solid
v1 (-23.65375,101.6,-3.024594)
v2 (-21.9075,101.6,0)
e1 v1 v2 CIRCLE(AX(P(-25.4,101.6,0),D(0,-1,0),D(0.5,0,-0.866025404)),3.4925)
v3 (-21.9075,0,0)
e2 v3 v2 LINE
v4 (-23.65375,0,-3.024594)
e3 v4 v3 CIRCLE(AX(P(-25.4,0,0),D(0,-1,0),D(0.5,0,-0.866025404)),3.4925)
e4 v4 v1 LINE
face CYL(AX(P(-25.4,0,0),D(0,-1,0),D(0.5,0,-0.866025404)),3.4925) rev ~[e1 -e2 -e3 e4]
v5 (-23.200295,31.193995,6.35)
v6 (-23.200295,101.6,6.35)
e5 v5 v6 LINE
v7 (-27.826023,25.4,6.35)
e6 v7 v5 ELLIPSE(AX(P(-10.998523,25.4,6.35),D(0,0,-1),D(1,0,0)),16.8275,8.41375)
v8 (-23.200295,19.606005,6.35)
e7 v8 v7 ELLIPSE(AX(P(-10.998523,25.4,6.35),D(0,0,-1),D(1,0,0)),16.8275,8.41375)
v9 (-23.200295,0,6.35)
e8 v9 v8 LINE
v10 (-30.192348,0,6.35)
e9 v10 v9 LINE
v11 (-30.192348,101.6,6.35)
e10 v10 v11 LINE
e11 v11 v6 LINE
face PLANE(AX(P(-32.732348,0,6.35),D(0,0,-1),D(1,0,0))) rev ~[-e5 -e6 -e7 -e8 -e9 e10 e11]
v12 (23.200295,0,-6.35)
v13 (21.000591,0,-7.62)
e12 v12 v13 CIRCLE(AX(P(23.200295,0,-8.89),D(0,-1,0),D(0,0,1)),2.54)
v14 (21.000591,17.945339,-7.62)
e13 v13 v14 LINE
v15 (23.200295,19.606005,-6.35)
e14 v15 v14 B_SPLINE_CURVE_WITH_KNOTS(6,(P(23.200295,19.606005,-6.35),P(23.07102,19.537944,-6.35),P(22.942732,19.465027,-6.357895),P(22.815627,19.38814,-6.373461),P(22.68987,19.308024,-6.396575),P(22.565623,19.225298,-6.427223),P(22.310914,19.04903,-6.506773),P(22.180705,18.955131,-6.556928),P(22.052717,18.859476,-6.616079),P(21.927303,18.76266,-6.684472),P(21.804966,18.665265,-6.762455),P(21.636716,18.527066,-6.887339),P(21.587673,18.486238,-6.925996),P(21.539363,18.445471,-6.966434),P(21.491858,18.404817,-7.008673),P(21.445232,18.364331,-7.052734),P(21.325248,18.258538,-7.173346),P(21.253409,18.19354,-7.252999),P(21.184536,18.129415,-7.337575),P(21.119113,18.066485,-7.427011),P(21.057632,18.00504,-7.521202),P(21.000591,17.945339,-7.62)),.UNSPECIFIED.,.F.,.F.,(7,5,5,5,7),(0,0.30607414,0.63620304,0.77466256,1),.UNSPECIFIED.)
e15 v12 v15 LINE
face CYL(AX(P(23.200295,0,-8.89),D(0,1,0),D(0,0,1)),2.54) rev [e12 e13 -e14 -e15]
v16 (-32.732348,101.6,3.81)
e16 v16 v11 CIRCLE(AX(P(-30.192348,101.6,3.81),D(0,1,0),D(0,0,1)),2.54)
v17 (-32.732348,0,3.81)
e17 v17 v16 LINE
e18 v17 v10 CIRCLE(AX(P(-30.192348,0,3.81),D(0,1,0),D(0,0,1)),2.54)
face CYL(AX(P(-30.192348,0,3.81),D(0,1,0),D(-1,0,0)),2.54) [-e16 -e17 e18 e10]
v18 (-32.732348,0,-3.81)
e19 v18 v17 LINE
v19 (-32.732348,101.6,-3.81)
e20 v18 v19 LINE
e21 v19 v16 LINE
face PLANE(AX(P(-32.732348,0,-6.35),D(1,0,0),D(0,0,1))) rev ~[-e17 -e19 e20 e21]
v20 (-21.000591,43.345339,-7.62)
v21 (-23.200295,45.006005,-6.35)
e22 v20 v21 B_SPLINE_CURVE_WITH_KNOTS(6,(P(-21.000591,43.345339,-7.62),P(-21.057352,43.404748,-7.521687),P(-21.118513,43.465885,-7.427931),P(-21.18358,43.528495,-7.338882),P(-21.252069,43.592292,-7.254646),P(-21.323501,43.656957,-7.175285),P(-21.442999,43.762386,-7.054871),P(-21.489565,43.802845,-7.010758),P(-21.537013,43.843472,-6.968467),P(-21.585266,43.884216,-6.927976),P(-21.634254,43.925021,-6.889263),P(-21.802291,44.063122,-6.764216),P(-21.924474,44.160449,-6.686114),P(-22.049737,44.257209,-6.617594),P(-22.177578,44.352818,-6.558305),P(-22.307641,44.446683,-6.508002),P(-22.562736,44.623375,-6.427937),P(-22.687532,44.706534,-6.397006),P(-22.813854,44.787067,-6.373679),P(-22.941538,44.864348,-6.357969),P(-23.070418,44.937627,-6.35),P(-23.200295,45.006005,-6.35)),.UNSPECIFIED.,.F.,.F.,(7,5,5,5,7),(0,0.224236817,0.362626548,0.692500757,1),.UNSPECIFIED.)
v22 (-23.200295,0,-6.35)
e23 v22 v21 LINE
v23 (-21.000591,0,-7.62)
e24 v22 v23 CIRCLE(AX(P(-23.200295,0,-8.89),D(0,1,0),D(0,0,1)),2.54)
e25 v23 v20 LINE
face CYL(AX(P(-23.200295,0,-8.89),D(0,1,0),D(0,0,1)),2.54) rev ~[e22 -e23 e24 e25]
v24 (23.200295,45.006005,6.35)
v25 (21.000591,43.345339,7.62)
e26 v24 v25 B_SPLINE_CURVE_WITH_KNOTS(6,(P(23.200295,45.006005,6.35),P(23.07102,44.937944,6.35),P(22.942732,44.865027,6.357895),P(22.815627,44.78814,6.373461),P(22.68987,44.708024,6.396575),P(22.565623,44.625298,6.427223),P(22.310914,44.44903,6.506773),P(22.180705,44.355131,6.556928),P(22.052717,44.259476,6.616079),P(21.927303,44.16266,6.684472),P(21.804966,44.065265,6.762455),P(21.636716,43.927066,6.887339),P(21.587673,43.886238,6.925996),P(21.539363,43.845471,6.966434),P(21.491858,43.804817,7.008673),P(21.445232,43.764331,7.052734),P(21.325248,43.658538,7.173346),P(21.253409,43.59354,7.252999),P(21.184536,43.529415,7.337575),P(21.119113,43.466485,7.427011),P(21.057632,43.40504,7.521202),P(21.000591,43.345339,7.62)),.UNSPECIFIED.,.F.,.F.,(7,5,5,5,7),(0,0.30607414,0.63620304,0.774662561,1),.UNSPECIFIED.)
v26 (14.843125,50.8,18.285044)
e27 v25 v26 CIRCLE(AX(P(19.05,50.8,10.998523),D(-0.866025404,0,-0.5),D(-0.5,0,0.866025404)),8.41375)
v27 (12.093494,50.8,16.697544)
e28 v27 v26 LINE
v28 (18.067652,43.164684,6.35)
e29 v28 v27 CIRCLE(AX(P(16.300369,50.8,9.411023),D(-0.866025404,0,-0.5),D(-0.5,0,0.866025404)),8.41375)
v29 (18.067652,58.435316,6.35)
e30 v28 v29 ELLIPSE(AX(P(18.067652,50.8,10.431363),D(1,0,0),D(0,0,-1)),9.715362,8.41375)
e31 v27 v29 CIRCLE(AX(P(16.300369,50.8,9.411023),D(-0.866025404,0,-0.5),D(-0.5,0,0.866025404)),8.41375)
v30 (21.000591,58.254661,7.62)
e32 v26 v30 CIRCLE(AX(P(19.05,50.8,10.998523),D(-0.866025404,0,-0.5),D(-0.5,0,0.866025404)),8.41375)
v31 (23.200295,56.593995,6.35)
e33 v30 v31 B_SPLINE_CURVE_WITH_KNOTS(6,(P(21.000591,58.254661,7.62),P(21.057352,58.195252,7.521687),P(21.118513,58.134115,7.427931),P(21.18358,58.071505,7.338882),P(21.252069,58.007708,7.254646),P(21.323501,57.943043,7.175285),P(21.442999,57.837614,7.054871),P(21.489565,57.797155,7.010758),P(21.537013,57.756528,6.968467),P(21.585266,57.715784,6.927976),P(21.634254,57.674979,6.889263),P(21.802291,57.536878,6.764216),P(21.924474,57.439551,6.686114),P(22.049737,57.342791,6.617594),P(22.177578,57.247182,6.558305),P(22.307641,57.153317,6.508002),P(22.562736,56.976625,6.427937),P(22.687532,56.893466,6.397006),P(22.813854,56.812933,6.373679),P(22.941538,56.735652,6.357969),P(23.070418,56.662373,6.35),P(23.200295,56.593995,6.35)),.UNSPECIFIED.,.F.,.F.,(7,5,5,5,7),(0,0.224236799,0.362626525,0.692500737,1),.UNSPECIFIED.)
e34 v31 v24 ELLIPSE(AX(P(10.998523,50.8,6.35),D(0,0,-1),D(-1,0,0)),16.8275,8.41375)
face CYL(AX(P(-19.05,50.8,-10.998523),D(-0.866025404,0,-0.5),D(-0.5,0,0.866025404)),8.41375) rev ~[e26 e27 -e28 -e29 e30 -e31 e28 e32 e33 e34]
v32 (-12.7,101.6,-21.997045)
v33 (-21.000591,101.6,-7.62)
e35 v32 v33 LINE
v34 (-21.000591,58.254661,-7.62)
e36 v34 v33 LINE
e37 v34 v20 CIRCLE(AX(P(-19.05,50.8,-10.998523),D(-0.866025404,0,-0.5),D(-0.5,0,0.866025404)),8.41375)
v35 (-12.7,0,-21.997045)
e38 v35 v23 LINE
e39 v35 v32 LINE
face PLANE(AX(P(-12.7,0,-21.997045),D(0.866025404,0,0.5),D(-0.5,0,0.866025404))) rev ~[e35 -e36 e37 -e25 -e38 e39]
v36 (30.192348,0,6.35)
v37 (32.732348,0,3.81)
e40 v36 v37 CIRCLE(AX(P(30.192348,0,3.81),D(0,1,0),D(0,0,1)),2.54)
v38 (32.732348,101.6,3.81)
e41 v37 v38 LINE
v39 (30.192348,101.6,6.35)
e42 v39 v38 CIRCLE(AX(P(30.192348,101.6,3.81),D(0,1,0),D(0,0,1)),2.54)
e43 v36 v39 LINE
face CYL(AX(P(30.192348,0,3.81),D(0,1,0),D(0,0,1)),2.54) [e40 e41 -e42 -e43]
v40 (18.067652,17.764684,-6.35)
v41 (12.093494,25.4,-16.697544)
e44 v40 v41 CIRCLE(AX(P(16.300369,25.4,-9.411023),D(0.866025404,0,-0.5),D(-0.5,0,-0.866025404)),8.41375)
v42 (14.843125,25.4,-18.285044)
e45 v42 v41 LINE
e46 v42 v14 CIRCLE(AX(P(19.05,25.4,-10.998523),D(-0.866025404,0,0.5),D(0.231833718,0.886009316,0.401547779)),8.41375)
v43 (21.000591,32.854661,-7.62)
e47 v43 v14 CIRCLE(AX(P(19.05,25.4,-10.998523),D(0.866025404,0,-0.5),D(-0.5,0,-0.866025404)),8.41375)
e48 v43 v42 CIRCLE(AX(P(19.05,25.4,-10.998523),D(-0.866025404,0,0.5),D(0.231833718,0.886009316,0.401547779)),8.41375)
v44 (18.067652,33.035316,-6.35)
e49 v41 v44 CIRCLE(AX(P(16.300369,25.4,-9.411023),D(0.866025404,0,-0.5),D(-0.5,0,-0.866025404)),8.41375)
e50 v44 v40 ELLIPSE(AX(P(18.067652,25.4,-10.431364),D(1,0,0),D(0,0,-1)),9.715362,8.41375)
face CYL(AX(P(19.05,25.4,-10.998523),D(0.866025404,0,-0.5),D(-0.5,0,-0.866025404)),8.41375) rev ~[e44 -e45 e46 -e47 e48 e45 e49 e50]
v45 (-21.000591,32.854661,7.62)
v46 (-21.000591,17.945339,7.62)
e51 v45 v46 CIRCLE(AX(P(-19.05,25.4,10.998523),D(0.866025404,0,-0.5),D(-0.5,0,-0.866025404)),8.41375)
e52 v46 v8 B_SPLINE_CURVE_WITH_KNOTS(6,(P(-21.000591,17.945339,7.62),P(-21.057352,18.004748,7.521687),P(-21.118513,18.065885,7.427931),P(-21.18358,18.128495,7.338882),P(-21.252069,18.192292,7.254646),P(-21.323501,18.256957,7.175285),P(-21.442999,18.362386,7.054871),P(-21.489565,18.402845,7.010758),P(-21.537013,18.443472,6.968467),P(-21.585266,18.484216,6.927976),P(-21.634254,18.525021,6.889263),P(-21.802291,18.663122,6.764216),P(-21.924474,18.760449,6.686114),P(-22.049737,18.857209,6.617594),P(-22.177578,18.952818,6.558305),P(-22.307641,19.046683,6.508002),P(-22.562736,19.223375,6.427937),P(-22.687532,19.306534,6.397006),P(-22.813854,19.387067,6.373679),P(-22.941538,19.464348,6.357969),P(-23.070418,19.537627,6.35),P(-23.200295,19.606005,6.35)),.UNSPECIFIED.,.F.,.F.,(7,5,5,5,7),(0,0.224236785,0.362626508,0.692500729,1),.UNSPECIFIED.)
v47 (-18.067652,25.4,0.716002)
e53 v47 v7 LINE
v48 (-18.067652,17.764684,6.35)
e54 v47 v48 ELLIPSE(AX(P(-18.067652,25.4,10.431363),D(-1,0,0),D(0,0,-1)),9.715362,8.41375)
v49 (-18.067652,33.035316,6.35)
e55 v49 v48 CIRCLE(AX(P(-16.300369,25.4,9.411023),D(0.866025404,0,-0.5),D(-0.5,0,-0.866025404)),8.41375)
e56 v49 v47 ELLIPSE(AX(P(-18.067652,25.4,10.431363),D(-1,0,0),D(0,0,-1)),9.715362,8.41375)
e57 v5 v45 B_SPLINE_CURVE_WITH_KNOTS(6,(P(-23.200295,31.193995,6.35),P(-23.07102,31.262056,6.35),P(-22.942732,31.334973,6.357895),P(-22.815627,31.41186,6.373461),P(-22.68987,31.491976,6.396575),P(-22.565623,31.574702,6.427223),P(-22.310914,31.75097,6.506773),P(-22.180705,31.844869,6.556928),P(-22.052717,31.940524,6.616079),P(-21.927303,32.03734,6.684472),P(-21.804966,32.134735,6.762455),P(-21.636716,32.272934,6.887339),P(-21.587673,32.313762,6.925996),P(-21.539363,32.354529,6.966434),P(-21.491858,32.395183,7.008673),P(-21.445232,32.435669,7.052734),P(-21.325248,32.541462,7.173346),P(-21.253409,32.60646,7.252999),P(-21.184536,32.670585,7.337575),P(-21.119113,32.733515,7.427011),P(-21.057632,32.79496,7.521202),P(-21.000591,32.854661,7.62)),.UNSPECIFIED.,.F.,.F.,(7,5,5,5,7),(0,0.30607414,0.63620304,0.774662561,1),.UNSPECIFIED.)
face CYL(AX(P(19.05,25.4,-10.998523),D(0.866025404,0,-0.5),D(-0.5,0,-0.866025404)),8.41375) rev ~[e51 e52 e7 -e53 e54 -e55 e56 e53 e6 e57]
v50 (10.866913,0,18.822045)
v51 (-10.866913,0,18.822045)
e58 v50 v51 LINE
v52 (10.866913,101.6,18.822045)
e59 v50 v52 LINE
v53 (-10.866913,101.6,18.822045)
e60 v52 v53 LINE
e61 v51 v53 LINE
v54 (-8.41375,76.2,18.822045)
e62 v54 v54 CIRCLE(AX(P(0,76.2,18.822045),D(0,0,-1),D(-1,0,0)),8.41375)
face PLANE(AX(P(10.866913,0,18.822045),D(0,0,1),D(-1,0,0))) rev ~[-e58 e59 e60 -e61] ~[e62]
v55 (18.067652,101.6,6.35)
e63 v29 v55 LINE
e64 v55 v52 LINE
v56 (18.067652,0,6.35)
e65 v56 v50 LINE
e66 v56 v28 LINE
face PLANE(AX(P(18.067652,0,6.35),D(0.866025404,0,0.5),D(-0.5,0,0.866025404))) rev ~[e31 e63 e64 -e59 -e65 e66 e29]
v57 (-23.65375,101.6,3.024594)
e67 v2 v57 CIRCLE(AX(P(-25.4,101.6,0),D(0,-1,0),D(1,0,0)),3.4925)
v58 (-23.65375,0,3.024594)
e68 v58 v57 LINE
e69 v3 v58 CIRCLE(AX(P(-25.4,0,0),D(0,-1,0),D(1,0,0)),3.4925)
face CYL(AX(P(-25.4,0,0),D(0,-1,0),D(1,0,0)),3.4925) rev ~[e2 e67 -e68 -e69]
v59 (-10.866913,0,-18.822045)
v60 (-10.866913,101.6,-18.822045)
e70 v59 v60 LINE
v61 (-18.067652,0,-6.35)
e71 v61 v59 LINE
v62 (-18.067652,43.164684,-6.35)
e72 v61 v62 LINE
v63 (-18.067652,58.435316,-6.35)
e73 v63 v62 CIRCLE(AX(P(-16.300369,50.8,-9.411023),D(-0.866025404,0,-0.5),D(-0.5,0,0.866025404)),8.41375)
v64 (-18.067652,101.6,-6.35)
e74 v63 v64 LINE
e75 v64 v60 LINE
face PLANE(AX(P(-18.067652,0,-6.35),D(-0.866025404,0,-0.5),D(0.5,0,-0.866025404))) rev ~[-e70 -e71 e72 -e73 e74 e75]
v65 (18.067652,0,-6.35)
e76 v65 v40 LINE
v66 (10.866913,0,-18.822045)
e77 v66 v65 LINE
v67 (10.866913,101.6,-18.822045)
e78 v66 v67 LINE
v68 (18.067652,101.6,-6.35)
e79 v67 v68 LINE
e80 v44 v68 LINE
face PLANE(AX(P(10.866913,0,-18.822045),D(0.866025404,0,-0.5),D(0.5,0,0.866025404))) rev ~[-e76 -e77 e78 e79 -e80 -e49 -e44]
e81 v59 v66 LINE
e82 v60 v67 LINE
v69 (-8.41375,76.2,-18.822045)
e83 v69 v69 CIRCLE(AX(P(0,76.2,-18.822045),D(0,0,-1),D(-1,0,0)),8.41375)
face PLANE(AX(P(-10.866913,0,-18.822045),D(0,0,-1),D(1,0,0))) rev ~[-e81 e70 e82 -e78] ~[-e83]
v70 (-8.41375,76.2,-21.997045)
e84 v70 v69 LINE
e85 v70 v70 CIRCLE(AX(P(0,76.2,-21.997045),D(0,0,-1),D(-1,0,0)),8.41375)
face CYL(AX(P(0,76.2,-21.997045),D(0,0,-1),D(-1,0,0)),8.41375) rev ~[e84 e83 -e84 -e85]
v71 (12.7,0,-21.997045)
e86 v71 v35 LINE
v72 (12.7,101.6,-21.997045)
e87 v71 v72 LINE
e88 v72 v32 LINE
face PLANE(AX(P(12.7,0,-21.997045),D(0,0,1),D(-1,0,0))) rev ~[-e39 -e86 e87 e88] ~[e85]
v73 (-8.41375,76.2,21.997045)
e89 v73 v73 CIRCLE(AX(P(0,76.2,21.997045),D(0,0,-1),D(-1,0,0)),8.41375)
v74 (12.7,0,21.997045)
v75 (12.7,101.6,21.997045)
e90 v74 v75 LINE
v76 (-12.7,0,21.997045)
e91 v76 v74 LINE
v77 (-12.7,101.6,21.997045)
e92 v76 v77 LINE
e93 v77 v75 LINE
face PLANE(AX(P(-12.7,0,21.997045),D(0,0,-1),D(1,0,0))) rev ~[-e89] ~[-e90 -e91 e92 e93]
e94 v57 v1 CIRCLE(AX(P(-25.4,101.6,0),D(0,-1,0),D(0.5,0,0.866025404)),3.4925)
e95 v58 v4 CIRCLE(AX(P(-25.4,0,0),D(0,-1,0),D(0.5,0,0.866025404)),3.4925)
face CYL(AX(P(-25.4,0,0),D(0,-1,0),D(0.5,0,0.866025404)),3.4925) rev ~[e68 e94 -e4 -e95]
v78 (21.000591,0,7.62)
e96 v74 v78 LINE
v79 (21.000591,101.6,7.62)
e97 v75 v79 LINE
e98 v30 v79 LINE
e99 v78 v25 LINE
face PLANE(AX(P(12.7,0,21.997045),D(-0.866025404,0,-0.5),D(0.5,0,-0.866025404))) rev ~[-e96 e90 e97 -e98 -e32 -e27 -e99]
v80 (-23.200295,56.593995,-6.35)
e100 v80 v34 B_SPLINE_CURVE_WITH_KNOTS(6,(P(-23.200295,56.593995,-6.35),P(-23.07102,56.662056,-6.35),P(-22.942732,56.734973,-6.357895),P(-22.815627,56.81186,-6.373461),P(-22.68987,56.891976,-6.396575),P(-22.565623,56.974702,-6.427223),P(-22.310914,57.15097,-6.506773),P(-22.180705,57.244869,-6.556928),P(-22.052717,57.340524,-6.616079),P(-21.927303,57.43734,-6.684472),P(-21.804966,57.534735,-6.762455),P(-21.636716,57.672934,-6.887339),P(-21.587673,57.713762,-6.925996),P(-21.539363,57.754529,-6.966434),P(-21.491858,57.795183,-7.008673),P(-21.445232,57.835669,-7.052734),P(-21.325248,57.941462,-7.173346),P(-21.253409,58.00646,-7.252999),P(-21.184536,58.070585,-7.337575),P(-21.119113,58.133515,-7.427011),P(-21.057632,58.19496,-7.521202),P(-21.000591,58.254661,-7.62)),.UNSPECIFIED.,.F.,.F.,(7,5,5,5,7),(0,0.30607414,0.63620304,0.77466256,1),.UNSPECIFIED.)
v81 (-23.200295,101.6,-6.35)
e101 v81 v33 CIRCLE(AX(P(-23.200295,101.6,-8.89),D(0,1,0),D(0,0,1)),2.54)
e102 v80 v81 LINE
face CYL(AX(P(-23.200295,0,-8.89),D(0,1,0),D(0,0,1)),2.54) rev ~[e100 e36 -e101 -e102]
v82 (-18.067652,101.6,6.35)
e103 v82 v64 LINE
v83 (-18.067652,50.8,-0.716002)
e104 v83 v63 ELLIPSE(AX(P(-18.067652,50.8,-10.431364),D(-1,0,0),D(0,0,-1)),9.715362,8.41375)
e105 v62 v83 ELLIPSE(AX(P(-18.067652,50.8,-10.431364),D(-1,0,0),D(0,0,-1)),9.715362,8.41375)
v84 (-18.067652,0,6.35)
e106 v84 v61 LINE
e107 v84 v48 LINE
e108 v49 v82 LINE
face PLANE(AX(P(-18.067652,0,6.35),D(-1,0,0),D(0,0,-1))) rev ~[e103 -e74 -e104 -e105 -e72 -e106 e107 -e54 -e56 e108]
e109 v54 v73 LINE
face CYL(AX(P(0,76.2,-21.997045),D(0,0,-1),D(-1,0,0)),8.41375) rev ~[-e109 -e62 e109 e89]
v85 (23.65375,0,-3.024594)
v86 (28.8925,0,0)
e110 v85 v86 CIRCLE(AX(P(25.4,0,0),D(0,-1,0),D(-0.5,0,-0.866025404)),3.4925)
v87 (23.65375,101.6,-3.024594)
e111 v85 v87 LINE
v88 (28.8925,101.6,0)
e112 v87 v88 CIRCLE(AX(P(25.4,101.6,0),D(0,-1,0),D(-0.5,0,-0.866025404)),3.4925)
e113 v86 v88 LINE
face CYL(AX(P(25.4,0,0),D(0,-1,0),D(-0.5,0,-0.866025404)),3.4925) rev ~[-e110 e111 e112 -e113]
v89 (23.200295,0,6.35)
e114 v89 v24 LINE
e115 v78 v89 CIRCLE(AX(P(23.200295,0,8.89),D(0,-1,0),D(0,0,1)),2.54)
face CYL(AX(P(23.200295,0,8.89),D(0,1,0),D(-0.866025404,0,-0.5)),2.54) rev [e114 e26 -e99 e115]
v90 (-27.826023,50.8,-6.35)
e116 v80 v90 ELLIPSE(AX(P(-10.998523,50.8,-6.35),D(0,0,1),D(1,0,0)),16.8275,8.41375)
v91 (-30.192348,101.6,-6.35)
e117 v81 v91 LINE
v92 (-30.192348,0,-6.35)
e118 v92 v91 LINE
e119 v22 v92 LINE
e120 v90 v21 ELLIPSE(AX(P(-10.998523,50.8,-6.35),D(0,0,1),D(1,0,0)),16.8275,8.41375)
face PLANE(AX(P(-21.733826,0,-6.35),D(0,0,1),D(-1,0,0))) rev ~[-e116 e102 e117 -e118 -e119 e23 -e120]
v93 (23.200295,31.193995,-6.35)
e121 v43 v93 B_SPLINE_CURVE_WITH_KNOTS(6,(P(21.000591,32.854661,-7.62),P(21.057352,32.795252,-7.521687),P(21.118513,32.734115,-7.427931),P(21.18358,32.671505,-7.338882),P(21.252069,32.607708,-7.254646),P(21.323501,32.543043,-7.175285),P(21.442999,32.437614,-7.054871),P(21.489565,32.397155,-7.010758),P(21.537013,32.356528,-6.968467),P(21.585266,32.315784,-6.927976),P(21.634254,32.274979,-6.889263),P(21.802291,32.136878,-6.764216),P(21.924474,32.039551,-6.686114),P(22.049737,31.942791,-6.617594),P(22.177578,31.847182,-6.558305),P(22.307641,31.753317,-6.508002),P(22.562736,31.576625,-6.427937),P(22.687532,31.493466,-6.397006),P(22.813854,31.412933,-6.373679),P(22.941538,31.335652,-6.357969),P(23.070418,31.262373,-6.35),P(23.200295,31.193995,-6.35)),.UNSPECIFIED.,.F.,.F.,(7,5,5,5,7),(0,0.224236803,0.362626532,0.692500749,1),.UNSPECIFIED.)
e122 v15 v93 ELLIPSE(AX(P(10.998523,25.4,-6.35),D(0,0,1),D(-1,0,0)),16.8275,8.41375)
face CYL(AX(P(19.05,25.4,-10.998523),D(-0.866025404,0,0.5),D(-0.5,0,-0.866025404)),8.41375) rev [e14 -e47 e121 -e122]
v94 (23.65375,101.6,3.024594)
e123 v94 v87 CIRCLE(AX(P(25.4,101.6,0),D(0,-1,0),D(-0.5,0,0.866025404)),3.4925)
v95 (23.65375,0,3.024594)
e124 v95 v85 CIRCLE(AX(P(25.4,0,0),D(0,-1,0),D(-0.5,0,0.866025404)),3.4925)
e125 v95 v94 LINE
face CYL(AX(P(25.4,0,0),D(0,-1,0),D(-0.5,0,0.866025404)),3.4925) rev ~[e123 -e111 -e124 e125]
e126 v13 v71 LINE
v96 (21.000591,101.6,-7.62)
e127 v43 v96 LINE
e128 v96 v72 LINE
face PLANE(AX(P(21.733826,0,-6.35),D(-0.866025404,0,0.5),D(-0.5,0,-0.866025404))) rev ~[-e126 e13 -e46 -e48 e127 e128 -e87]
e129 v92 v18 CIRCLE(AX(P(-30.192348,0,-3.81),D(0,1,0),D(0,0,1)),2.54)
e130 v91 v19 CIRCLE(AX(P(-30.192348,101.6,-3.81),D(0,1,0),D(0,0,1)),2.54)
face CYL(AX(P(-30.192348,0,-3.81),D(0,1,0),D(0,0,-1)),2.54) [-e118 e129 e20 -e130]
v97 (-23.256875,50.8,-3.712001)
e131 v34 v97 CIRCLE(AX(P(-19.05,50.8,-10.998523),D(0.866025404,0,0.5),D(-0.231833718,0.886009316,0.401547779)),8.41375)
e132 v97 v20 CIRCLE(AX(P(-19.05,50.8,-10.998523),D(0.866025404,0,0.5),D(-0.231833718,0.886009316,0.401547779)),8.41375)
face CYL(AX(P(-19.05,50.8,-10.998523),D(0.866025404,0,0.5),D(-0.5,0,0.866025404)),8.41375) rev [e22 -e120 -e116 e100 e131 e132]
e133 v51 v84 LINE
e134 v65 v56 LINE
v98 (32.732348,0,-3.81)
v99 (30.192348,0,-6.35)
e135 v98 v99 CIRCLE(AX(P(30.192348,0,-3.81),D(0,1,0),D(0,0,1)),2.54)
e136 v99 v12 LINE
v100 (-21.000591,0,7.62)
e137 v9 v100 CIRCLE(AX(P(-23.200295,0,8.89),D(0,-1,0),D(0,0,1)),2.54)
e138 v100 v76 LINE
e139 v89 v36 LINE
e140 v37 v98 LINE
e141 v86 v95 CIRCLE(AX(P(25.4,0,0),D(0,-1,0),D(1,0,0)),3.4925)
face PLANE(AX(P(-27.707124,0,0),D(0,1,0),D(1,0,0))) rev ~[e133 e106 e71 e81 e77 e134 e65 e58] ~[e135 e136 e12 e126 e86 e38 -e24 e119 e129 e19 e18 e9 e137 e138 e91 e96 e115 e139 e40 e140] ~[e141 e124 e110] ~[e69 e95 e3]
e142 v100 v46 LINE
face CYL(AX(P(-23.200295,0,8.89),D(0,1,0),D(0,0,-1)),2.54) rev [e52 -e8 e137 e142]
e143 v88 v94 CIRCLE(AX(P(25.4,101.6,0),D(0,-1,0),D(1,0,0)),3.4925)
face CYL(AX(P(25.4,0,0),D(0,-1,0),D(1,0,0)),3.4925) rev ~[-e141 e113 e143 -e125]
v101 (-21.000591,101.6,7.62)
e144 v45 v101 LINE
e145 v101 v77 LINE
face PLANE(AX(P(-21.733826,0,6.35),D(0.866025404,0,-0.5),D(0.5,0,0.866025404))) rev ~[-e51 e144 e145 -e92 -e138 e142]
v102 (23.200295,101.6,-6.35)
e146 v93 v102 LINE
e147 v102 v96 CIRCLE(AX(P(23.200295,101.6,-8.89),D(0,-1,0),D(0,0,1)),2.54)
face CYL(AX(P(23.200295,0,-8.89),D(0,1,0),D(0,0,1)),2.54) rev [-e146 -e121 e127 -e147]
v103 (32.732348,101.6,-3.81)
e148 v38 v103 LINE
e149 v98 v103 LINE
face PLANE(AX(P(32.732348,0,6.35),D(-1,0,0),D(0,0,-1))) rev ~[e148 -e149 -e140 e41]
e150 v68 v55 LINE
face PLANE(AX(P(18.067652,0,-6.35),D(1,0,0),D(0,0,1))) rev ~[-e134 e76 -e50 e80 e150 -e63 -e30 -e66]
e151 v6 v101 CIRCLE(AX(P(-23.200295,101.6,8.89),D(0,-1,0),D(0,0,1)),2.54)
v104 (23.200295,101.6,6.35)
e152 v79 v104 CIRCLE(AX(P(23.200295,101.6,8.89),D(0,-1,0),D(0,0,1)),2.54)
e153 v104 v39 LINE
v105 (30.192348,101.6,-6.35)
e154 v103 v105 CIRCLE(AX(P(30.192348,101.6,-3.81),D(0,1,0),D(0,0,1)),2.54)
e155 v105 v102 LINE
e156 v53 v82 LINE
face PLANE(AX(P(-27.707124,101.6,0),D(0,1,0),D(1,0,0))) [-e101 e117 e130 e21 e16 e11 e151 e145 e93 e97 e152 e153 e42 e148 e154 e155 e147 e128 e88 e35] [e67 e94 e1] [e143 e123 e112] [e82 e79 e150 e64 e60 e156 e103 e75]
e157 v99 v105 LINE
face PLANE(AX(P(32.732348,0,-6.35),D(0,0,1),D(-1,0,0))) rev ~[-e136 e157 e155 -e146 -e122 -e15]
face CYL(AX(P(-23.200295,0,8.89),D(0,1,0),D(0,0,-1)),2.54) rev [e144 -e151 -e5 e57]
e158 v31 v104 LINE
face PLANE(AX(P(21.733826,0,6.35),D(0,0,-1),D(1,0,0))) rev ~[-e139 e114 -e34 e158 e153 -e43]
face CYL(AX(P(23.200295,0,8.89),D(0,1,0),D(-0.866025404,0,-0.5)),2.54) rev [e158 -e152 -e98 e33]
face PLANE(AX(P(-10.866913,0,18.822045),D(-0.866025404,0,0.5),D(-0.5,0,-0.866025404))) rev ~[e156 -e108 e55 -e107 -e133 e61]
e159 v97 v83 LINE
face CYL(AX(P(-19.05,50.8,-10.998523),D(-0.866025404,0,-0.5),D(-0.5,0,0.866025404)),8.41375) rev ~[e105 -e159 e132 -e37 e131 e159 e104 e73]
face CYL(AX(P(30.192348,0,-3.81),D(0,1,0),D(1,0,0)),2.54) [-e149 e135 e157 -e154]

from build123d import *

# Parameters (mm, degrees)
BOSS_EXTRUDE1_DEPTH      = 101.6
FILLET1_R                = 2.54
SKETCH11_R               = 8.41375
CUT_EXTRUDE8_DEPTH       = 1
CUT_EXTRUDE8_DEPTH_BACK  = 44.994090512
SKETCH12_R               = 8.41375
CUT_EXTRUDE9_DEPTH       = 18.348522628
CUT_EXTRUDE9_DEPTH_BACK  = 62.34261314
SKETCH13_R               = 8.41375
CUT_EXTRUDE10_DEPTH      = 18.348522628
CUT_EXTRUDE10_DEPTH_BACK = 62.34261314


with BuildPart() as part:
    # Sketch2 → Boss-Extrude1 (new body)
    with BuildSketch(Plane(origin=(0, 0, 0), x_dir=(1, 0, 0), z_dir=(0, 1, 0))):
        with BuildLine():
            Line((-23.65375, 3.024593723), (-21.733825791, 6.35))
            Line((-21.733825791, 6.35), (-32.732348419, 6.35))
            Line((-32.732348419, 6.35), (-32.732348419, -6.35))
            Line((-32.732348419, -6.35), (-21.733825791, -6.35))
            Line((-21.733825791, -6.35), (-23.65375, -3.024593723))
            ThreePointArc((-23.65375, -3.024593723), (-28.8925, 0), (-23.65375, 3.024593723))
        make_face()
        with BuildLine():
            Line((32.732348419, 6.35), (21.733825791, 6.35))
            Line((21.733825791, 6.35), (23.65375, 3.024593723))
            ThreePointArc((23.65375, 3.024593723), (27.14625, 3.024593723), (28.8925, 0))
            ThreePointArc((28.8925, 0), (27.14625, -3.024593723), (23.65375, -3.024593723))
            Line((23.65375, -3.024593723), (21.733825791, -6.35))
            Line((21.733825791, -6.35), (32.732348419, -6.35))
            Line((32.732348419, -6.35), (32.732348419, 6.35))
        make_face()
        Polygon((12.7, 21.997045256), (-12.7, 21.997045256), (-21.733825791, 6.35), (-18.067651581, 6.35), (-10.866912895, 18.822045256), (10.866912895, 18.822045256), (18.067651581, 6.35), (21.733825791, 6.35), align=None)
        Polygon((-10.866912895, -18.822045256), (-18.067651581, -6.35), (-21.733825791, -6.35), (-12.7, -21.997045256), (12.7, -21.997045256), (21.733825791, -6.35), (18.067651581, -6.35), (10.866912895, -18.822045256), align=None)
        with BuildLine():
            Line((-18.067651581, 6.35), (-21.733825791, 6.35))
            Line((-21.733825791, 6.35), (-23.65375, 3.024593723))
            ThreePointArc((-23.65375, 3.024593723), (-22.375406277, 1.74625), (-21.9075, 0))
            ThreePointArc((-21.9075, 0), (-22.375406277, -1.74625), (-23.65375, -3.024593723))
            Line((-23.65375, -3.024593723), (-21.733825791, -6.35))
            Line((-21.733825791, -6.35), (-18.067651581, -6.35))
            Line((-18.067651581, -6.35), (-21.733825791, 0))
            Line((-21.733825791, 0), (-18.067651581, 6.35))
        make_face()
        Polygon((-18.067651581, -6.35), (-18.067651581, 6.35), (-21.733825791, 0), align=None)
        with BuildLine():
            Line((23.65375, 3.024593723), (21.733825791, 6.35))
            Line((21.733825791, 6.35), (18.067651581, 6.35))
            Line((18.067651581, 6.35), (21.733825791, 0))
            Line((21.733825791, 0), (18.067651581, -6.35))
            Line((18.067651581, -6.35), (21.733825791, -6.35))
            Line((21.733825791, -6.35), (23.65375, -3.024593723))
            ThreePointArc((23.65375, -3.024593723), (21.9075, 0), (23.65375, 3.024593723))
        make_face()
        Polygon((21.733825791, 0), (18.067651581, 6.35), (18.067651581, -6.35), align=None)
    extrude(amount=BOSS_EXTRUDE1_DEPTH)

    # Fillet1
    fillet1_edges = [part.edges().sort_by_distance(p)[0] for p in [
        (21.733825791, 50.8, -6.35),
        (32.732348419, 50.8, -6.35),
        (32.732348419, 50.8, 6.35),
        (21.733825791, 50.8, 6.35),
        (-21.733825791, 50.8, 6.35),
        (-32.732348419, 50.8, 6.35),
        (-32.732348419, 50.8, -6.35),
        (-21.733825791, 50.8, -6.35),
    ]]
    fillet(fillet1_edges, radius=FILLET1_R)

    # Sketch11 → Cut-Extrude8 (cut, two sides)
    with BuildSketch(Plane(origin=(0, 0, -21.997045256), x_dir=(-1, 0, 0), z_dir=(0, 0, -1))) as cut_extrude8_sk:
        with Locations((0, 76.2)):
            Circle(SKETCH11_R)
    extrude(amount=CUT_EXTRUDE8_DEPTH, mode=Mode.SUBTRACT)
    extrude(cut_extrude8_sk.sketch, amount=-CUT_EXTRUDE8_DEPTH_BACK, mode=Mode.SUBTRACT)

    # Sketch12 → Cut-Extrude9 (cut, two sides)
    with BuildSketch(Plane(origin=(-19.05, 0, -10.998522628), x_dir=(-0.5, 0, 0.866025404), z_dir=(-0.866025404, 0, -0.5))) as cut_extrude9_sk:
        with Locations((0, 50.8)):
            Circle(SKETCH12_R)
    extrude(amount=CUT_EXTRUDE9_DEPTH, mode=Mode.SUBTRACT)
    extrude(cut_extrude9_sk.sketch, amount=-CUT_EXTRUDE9_DEPTH_BACK, mode=Mode.SUBTRACT)

    # Sketch13 → Cut-Extrude10 (cut, two sides)
    with BuildSketch(Plane(origin=(19.05, 0, -10.998522628), x_dir=(-0.5, 0, -0.866025404), z_dir=(0.866025404, 0, -0.5))) as cut_extrude10_sk:
        with Locations((0, 25.4)):
            Circle(SKETCH13_R)
    extrude(amount=CUT_EXTRUDE10_DEPTH, mode=Mode.SUBTRACT)
    extrude(cut_extrude10_sk.sketch, amount=-CUT_EXTRUDE10_DEPTH_BACK, mode=Mode.SUBTRACT)


solid = part.part
